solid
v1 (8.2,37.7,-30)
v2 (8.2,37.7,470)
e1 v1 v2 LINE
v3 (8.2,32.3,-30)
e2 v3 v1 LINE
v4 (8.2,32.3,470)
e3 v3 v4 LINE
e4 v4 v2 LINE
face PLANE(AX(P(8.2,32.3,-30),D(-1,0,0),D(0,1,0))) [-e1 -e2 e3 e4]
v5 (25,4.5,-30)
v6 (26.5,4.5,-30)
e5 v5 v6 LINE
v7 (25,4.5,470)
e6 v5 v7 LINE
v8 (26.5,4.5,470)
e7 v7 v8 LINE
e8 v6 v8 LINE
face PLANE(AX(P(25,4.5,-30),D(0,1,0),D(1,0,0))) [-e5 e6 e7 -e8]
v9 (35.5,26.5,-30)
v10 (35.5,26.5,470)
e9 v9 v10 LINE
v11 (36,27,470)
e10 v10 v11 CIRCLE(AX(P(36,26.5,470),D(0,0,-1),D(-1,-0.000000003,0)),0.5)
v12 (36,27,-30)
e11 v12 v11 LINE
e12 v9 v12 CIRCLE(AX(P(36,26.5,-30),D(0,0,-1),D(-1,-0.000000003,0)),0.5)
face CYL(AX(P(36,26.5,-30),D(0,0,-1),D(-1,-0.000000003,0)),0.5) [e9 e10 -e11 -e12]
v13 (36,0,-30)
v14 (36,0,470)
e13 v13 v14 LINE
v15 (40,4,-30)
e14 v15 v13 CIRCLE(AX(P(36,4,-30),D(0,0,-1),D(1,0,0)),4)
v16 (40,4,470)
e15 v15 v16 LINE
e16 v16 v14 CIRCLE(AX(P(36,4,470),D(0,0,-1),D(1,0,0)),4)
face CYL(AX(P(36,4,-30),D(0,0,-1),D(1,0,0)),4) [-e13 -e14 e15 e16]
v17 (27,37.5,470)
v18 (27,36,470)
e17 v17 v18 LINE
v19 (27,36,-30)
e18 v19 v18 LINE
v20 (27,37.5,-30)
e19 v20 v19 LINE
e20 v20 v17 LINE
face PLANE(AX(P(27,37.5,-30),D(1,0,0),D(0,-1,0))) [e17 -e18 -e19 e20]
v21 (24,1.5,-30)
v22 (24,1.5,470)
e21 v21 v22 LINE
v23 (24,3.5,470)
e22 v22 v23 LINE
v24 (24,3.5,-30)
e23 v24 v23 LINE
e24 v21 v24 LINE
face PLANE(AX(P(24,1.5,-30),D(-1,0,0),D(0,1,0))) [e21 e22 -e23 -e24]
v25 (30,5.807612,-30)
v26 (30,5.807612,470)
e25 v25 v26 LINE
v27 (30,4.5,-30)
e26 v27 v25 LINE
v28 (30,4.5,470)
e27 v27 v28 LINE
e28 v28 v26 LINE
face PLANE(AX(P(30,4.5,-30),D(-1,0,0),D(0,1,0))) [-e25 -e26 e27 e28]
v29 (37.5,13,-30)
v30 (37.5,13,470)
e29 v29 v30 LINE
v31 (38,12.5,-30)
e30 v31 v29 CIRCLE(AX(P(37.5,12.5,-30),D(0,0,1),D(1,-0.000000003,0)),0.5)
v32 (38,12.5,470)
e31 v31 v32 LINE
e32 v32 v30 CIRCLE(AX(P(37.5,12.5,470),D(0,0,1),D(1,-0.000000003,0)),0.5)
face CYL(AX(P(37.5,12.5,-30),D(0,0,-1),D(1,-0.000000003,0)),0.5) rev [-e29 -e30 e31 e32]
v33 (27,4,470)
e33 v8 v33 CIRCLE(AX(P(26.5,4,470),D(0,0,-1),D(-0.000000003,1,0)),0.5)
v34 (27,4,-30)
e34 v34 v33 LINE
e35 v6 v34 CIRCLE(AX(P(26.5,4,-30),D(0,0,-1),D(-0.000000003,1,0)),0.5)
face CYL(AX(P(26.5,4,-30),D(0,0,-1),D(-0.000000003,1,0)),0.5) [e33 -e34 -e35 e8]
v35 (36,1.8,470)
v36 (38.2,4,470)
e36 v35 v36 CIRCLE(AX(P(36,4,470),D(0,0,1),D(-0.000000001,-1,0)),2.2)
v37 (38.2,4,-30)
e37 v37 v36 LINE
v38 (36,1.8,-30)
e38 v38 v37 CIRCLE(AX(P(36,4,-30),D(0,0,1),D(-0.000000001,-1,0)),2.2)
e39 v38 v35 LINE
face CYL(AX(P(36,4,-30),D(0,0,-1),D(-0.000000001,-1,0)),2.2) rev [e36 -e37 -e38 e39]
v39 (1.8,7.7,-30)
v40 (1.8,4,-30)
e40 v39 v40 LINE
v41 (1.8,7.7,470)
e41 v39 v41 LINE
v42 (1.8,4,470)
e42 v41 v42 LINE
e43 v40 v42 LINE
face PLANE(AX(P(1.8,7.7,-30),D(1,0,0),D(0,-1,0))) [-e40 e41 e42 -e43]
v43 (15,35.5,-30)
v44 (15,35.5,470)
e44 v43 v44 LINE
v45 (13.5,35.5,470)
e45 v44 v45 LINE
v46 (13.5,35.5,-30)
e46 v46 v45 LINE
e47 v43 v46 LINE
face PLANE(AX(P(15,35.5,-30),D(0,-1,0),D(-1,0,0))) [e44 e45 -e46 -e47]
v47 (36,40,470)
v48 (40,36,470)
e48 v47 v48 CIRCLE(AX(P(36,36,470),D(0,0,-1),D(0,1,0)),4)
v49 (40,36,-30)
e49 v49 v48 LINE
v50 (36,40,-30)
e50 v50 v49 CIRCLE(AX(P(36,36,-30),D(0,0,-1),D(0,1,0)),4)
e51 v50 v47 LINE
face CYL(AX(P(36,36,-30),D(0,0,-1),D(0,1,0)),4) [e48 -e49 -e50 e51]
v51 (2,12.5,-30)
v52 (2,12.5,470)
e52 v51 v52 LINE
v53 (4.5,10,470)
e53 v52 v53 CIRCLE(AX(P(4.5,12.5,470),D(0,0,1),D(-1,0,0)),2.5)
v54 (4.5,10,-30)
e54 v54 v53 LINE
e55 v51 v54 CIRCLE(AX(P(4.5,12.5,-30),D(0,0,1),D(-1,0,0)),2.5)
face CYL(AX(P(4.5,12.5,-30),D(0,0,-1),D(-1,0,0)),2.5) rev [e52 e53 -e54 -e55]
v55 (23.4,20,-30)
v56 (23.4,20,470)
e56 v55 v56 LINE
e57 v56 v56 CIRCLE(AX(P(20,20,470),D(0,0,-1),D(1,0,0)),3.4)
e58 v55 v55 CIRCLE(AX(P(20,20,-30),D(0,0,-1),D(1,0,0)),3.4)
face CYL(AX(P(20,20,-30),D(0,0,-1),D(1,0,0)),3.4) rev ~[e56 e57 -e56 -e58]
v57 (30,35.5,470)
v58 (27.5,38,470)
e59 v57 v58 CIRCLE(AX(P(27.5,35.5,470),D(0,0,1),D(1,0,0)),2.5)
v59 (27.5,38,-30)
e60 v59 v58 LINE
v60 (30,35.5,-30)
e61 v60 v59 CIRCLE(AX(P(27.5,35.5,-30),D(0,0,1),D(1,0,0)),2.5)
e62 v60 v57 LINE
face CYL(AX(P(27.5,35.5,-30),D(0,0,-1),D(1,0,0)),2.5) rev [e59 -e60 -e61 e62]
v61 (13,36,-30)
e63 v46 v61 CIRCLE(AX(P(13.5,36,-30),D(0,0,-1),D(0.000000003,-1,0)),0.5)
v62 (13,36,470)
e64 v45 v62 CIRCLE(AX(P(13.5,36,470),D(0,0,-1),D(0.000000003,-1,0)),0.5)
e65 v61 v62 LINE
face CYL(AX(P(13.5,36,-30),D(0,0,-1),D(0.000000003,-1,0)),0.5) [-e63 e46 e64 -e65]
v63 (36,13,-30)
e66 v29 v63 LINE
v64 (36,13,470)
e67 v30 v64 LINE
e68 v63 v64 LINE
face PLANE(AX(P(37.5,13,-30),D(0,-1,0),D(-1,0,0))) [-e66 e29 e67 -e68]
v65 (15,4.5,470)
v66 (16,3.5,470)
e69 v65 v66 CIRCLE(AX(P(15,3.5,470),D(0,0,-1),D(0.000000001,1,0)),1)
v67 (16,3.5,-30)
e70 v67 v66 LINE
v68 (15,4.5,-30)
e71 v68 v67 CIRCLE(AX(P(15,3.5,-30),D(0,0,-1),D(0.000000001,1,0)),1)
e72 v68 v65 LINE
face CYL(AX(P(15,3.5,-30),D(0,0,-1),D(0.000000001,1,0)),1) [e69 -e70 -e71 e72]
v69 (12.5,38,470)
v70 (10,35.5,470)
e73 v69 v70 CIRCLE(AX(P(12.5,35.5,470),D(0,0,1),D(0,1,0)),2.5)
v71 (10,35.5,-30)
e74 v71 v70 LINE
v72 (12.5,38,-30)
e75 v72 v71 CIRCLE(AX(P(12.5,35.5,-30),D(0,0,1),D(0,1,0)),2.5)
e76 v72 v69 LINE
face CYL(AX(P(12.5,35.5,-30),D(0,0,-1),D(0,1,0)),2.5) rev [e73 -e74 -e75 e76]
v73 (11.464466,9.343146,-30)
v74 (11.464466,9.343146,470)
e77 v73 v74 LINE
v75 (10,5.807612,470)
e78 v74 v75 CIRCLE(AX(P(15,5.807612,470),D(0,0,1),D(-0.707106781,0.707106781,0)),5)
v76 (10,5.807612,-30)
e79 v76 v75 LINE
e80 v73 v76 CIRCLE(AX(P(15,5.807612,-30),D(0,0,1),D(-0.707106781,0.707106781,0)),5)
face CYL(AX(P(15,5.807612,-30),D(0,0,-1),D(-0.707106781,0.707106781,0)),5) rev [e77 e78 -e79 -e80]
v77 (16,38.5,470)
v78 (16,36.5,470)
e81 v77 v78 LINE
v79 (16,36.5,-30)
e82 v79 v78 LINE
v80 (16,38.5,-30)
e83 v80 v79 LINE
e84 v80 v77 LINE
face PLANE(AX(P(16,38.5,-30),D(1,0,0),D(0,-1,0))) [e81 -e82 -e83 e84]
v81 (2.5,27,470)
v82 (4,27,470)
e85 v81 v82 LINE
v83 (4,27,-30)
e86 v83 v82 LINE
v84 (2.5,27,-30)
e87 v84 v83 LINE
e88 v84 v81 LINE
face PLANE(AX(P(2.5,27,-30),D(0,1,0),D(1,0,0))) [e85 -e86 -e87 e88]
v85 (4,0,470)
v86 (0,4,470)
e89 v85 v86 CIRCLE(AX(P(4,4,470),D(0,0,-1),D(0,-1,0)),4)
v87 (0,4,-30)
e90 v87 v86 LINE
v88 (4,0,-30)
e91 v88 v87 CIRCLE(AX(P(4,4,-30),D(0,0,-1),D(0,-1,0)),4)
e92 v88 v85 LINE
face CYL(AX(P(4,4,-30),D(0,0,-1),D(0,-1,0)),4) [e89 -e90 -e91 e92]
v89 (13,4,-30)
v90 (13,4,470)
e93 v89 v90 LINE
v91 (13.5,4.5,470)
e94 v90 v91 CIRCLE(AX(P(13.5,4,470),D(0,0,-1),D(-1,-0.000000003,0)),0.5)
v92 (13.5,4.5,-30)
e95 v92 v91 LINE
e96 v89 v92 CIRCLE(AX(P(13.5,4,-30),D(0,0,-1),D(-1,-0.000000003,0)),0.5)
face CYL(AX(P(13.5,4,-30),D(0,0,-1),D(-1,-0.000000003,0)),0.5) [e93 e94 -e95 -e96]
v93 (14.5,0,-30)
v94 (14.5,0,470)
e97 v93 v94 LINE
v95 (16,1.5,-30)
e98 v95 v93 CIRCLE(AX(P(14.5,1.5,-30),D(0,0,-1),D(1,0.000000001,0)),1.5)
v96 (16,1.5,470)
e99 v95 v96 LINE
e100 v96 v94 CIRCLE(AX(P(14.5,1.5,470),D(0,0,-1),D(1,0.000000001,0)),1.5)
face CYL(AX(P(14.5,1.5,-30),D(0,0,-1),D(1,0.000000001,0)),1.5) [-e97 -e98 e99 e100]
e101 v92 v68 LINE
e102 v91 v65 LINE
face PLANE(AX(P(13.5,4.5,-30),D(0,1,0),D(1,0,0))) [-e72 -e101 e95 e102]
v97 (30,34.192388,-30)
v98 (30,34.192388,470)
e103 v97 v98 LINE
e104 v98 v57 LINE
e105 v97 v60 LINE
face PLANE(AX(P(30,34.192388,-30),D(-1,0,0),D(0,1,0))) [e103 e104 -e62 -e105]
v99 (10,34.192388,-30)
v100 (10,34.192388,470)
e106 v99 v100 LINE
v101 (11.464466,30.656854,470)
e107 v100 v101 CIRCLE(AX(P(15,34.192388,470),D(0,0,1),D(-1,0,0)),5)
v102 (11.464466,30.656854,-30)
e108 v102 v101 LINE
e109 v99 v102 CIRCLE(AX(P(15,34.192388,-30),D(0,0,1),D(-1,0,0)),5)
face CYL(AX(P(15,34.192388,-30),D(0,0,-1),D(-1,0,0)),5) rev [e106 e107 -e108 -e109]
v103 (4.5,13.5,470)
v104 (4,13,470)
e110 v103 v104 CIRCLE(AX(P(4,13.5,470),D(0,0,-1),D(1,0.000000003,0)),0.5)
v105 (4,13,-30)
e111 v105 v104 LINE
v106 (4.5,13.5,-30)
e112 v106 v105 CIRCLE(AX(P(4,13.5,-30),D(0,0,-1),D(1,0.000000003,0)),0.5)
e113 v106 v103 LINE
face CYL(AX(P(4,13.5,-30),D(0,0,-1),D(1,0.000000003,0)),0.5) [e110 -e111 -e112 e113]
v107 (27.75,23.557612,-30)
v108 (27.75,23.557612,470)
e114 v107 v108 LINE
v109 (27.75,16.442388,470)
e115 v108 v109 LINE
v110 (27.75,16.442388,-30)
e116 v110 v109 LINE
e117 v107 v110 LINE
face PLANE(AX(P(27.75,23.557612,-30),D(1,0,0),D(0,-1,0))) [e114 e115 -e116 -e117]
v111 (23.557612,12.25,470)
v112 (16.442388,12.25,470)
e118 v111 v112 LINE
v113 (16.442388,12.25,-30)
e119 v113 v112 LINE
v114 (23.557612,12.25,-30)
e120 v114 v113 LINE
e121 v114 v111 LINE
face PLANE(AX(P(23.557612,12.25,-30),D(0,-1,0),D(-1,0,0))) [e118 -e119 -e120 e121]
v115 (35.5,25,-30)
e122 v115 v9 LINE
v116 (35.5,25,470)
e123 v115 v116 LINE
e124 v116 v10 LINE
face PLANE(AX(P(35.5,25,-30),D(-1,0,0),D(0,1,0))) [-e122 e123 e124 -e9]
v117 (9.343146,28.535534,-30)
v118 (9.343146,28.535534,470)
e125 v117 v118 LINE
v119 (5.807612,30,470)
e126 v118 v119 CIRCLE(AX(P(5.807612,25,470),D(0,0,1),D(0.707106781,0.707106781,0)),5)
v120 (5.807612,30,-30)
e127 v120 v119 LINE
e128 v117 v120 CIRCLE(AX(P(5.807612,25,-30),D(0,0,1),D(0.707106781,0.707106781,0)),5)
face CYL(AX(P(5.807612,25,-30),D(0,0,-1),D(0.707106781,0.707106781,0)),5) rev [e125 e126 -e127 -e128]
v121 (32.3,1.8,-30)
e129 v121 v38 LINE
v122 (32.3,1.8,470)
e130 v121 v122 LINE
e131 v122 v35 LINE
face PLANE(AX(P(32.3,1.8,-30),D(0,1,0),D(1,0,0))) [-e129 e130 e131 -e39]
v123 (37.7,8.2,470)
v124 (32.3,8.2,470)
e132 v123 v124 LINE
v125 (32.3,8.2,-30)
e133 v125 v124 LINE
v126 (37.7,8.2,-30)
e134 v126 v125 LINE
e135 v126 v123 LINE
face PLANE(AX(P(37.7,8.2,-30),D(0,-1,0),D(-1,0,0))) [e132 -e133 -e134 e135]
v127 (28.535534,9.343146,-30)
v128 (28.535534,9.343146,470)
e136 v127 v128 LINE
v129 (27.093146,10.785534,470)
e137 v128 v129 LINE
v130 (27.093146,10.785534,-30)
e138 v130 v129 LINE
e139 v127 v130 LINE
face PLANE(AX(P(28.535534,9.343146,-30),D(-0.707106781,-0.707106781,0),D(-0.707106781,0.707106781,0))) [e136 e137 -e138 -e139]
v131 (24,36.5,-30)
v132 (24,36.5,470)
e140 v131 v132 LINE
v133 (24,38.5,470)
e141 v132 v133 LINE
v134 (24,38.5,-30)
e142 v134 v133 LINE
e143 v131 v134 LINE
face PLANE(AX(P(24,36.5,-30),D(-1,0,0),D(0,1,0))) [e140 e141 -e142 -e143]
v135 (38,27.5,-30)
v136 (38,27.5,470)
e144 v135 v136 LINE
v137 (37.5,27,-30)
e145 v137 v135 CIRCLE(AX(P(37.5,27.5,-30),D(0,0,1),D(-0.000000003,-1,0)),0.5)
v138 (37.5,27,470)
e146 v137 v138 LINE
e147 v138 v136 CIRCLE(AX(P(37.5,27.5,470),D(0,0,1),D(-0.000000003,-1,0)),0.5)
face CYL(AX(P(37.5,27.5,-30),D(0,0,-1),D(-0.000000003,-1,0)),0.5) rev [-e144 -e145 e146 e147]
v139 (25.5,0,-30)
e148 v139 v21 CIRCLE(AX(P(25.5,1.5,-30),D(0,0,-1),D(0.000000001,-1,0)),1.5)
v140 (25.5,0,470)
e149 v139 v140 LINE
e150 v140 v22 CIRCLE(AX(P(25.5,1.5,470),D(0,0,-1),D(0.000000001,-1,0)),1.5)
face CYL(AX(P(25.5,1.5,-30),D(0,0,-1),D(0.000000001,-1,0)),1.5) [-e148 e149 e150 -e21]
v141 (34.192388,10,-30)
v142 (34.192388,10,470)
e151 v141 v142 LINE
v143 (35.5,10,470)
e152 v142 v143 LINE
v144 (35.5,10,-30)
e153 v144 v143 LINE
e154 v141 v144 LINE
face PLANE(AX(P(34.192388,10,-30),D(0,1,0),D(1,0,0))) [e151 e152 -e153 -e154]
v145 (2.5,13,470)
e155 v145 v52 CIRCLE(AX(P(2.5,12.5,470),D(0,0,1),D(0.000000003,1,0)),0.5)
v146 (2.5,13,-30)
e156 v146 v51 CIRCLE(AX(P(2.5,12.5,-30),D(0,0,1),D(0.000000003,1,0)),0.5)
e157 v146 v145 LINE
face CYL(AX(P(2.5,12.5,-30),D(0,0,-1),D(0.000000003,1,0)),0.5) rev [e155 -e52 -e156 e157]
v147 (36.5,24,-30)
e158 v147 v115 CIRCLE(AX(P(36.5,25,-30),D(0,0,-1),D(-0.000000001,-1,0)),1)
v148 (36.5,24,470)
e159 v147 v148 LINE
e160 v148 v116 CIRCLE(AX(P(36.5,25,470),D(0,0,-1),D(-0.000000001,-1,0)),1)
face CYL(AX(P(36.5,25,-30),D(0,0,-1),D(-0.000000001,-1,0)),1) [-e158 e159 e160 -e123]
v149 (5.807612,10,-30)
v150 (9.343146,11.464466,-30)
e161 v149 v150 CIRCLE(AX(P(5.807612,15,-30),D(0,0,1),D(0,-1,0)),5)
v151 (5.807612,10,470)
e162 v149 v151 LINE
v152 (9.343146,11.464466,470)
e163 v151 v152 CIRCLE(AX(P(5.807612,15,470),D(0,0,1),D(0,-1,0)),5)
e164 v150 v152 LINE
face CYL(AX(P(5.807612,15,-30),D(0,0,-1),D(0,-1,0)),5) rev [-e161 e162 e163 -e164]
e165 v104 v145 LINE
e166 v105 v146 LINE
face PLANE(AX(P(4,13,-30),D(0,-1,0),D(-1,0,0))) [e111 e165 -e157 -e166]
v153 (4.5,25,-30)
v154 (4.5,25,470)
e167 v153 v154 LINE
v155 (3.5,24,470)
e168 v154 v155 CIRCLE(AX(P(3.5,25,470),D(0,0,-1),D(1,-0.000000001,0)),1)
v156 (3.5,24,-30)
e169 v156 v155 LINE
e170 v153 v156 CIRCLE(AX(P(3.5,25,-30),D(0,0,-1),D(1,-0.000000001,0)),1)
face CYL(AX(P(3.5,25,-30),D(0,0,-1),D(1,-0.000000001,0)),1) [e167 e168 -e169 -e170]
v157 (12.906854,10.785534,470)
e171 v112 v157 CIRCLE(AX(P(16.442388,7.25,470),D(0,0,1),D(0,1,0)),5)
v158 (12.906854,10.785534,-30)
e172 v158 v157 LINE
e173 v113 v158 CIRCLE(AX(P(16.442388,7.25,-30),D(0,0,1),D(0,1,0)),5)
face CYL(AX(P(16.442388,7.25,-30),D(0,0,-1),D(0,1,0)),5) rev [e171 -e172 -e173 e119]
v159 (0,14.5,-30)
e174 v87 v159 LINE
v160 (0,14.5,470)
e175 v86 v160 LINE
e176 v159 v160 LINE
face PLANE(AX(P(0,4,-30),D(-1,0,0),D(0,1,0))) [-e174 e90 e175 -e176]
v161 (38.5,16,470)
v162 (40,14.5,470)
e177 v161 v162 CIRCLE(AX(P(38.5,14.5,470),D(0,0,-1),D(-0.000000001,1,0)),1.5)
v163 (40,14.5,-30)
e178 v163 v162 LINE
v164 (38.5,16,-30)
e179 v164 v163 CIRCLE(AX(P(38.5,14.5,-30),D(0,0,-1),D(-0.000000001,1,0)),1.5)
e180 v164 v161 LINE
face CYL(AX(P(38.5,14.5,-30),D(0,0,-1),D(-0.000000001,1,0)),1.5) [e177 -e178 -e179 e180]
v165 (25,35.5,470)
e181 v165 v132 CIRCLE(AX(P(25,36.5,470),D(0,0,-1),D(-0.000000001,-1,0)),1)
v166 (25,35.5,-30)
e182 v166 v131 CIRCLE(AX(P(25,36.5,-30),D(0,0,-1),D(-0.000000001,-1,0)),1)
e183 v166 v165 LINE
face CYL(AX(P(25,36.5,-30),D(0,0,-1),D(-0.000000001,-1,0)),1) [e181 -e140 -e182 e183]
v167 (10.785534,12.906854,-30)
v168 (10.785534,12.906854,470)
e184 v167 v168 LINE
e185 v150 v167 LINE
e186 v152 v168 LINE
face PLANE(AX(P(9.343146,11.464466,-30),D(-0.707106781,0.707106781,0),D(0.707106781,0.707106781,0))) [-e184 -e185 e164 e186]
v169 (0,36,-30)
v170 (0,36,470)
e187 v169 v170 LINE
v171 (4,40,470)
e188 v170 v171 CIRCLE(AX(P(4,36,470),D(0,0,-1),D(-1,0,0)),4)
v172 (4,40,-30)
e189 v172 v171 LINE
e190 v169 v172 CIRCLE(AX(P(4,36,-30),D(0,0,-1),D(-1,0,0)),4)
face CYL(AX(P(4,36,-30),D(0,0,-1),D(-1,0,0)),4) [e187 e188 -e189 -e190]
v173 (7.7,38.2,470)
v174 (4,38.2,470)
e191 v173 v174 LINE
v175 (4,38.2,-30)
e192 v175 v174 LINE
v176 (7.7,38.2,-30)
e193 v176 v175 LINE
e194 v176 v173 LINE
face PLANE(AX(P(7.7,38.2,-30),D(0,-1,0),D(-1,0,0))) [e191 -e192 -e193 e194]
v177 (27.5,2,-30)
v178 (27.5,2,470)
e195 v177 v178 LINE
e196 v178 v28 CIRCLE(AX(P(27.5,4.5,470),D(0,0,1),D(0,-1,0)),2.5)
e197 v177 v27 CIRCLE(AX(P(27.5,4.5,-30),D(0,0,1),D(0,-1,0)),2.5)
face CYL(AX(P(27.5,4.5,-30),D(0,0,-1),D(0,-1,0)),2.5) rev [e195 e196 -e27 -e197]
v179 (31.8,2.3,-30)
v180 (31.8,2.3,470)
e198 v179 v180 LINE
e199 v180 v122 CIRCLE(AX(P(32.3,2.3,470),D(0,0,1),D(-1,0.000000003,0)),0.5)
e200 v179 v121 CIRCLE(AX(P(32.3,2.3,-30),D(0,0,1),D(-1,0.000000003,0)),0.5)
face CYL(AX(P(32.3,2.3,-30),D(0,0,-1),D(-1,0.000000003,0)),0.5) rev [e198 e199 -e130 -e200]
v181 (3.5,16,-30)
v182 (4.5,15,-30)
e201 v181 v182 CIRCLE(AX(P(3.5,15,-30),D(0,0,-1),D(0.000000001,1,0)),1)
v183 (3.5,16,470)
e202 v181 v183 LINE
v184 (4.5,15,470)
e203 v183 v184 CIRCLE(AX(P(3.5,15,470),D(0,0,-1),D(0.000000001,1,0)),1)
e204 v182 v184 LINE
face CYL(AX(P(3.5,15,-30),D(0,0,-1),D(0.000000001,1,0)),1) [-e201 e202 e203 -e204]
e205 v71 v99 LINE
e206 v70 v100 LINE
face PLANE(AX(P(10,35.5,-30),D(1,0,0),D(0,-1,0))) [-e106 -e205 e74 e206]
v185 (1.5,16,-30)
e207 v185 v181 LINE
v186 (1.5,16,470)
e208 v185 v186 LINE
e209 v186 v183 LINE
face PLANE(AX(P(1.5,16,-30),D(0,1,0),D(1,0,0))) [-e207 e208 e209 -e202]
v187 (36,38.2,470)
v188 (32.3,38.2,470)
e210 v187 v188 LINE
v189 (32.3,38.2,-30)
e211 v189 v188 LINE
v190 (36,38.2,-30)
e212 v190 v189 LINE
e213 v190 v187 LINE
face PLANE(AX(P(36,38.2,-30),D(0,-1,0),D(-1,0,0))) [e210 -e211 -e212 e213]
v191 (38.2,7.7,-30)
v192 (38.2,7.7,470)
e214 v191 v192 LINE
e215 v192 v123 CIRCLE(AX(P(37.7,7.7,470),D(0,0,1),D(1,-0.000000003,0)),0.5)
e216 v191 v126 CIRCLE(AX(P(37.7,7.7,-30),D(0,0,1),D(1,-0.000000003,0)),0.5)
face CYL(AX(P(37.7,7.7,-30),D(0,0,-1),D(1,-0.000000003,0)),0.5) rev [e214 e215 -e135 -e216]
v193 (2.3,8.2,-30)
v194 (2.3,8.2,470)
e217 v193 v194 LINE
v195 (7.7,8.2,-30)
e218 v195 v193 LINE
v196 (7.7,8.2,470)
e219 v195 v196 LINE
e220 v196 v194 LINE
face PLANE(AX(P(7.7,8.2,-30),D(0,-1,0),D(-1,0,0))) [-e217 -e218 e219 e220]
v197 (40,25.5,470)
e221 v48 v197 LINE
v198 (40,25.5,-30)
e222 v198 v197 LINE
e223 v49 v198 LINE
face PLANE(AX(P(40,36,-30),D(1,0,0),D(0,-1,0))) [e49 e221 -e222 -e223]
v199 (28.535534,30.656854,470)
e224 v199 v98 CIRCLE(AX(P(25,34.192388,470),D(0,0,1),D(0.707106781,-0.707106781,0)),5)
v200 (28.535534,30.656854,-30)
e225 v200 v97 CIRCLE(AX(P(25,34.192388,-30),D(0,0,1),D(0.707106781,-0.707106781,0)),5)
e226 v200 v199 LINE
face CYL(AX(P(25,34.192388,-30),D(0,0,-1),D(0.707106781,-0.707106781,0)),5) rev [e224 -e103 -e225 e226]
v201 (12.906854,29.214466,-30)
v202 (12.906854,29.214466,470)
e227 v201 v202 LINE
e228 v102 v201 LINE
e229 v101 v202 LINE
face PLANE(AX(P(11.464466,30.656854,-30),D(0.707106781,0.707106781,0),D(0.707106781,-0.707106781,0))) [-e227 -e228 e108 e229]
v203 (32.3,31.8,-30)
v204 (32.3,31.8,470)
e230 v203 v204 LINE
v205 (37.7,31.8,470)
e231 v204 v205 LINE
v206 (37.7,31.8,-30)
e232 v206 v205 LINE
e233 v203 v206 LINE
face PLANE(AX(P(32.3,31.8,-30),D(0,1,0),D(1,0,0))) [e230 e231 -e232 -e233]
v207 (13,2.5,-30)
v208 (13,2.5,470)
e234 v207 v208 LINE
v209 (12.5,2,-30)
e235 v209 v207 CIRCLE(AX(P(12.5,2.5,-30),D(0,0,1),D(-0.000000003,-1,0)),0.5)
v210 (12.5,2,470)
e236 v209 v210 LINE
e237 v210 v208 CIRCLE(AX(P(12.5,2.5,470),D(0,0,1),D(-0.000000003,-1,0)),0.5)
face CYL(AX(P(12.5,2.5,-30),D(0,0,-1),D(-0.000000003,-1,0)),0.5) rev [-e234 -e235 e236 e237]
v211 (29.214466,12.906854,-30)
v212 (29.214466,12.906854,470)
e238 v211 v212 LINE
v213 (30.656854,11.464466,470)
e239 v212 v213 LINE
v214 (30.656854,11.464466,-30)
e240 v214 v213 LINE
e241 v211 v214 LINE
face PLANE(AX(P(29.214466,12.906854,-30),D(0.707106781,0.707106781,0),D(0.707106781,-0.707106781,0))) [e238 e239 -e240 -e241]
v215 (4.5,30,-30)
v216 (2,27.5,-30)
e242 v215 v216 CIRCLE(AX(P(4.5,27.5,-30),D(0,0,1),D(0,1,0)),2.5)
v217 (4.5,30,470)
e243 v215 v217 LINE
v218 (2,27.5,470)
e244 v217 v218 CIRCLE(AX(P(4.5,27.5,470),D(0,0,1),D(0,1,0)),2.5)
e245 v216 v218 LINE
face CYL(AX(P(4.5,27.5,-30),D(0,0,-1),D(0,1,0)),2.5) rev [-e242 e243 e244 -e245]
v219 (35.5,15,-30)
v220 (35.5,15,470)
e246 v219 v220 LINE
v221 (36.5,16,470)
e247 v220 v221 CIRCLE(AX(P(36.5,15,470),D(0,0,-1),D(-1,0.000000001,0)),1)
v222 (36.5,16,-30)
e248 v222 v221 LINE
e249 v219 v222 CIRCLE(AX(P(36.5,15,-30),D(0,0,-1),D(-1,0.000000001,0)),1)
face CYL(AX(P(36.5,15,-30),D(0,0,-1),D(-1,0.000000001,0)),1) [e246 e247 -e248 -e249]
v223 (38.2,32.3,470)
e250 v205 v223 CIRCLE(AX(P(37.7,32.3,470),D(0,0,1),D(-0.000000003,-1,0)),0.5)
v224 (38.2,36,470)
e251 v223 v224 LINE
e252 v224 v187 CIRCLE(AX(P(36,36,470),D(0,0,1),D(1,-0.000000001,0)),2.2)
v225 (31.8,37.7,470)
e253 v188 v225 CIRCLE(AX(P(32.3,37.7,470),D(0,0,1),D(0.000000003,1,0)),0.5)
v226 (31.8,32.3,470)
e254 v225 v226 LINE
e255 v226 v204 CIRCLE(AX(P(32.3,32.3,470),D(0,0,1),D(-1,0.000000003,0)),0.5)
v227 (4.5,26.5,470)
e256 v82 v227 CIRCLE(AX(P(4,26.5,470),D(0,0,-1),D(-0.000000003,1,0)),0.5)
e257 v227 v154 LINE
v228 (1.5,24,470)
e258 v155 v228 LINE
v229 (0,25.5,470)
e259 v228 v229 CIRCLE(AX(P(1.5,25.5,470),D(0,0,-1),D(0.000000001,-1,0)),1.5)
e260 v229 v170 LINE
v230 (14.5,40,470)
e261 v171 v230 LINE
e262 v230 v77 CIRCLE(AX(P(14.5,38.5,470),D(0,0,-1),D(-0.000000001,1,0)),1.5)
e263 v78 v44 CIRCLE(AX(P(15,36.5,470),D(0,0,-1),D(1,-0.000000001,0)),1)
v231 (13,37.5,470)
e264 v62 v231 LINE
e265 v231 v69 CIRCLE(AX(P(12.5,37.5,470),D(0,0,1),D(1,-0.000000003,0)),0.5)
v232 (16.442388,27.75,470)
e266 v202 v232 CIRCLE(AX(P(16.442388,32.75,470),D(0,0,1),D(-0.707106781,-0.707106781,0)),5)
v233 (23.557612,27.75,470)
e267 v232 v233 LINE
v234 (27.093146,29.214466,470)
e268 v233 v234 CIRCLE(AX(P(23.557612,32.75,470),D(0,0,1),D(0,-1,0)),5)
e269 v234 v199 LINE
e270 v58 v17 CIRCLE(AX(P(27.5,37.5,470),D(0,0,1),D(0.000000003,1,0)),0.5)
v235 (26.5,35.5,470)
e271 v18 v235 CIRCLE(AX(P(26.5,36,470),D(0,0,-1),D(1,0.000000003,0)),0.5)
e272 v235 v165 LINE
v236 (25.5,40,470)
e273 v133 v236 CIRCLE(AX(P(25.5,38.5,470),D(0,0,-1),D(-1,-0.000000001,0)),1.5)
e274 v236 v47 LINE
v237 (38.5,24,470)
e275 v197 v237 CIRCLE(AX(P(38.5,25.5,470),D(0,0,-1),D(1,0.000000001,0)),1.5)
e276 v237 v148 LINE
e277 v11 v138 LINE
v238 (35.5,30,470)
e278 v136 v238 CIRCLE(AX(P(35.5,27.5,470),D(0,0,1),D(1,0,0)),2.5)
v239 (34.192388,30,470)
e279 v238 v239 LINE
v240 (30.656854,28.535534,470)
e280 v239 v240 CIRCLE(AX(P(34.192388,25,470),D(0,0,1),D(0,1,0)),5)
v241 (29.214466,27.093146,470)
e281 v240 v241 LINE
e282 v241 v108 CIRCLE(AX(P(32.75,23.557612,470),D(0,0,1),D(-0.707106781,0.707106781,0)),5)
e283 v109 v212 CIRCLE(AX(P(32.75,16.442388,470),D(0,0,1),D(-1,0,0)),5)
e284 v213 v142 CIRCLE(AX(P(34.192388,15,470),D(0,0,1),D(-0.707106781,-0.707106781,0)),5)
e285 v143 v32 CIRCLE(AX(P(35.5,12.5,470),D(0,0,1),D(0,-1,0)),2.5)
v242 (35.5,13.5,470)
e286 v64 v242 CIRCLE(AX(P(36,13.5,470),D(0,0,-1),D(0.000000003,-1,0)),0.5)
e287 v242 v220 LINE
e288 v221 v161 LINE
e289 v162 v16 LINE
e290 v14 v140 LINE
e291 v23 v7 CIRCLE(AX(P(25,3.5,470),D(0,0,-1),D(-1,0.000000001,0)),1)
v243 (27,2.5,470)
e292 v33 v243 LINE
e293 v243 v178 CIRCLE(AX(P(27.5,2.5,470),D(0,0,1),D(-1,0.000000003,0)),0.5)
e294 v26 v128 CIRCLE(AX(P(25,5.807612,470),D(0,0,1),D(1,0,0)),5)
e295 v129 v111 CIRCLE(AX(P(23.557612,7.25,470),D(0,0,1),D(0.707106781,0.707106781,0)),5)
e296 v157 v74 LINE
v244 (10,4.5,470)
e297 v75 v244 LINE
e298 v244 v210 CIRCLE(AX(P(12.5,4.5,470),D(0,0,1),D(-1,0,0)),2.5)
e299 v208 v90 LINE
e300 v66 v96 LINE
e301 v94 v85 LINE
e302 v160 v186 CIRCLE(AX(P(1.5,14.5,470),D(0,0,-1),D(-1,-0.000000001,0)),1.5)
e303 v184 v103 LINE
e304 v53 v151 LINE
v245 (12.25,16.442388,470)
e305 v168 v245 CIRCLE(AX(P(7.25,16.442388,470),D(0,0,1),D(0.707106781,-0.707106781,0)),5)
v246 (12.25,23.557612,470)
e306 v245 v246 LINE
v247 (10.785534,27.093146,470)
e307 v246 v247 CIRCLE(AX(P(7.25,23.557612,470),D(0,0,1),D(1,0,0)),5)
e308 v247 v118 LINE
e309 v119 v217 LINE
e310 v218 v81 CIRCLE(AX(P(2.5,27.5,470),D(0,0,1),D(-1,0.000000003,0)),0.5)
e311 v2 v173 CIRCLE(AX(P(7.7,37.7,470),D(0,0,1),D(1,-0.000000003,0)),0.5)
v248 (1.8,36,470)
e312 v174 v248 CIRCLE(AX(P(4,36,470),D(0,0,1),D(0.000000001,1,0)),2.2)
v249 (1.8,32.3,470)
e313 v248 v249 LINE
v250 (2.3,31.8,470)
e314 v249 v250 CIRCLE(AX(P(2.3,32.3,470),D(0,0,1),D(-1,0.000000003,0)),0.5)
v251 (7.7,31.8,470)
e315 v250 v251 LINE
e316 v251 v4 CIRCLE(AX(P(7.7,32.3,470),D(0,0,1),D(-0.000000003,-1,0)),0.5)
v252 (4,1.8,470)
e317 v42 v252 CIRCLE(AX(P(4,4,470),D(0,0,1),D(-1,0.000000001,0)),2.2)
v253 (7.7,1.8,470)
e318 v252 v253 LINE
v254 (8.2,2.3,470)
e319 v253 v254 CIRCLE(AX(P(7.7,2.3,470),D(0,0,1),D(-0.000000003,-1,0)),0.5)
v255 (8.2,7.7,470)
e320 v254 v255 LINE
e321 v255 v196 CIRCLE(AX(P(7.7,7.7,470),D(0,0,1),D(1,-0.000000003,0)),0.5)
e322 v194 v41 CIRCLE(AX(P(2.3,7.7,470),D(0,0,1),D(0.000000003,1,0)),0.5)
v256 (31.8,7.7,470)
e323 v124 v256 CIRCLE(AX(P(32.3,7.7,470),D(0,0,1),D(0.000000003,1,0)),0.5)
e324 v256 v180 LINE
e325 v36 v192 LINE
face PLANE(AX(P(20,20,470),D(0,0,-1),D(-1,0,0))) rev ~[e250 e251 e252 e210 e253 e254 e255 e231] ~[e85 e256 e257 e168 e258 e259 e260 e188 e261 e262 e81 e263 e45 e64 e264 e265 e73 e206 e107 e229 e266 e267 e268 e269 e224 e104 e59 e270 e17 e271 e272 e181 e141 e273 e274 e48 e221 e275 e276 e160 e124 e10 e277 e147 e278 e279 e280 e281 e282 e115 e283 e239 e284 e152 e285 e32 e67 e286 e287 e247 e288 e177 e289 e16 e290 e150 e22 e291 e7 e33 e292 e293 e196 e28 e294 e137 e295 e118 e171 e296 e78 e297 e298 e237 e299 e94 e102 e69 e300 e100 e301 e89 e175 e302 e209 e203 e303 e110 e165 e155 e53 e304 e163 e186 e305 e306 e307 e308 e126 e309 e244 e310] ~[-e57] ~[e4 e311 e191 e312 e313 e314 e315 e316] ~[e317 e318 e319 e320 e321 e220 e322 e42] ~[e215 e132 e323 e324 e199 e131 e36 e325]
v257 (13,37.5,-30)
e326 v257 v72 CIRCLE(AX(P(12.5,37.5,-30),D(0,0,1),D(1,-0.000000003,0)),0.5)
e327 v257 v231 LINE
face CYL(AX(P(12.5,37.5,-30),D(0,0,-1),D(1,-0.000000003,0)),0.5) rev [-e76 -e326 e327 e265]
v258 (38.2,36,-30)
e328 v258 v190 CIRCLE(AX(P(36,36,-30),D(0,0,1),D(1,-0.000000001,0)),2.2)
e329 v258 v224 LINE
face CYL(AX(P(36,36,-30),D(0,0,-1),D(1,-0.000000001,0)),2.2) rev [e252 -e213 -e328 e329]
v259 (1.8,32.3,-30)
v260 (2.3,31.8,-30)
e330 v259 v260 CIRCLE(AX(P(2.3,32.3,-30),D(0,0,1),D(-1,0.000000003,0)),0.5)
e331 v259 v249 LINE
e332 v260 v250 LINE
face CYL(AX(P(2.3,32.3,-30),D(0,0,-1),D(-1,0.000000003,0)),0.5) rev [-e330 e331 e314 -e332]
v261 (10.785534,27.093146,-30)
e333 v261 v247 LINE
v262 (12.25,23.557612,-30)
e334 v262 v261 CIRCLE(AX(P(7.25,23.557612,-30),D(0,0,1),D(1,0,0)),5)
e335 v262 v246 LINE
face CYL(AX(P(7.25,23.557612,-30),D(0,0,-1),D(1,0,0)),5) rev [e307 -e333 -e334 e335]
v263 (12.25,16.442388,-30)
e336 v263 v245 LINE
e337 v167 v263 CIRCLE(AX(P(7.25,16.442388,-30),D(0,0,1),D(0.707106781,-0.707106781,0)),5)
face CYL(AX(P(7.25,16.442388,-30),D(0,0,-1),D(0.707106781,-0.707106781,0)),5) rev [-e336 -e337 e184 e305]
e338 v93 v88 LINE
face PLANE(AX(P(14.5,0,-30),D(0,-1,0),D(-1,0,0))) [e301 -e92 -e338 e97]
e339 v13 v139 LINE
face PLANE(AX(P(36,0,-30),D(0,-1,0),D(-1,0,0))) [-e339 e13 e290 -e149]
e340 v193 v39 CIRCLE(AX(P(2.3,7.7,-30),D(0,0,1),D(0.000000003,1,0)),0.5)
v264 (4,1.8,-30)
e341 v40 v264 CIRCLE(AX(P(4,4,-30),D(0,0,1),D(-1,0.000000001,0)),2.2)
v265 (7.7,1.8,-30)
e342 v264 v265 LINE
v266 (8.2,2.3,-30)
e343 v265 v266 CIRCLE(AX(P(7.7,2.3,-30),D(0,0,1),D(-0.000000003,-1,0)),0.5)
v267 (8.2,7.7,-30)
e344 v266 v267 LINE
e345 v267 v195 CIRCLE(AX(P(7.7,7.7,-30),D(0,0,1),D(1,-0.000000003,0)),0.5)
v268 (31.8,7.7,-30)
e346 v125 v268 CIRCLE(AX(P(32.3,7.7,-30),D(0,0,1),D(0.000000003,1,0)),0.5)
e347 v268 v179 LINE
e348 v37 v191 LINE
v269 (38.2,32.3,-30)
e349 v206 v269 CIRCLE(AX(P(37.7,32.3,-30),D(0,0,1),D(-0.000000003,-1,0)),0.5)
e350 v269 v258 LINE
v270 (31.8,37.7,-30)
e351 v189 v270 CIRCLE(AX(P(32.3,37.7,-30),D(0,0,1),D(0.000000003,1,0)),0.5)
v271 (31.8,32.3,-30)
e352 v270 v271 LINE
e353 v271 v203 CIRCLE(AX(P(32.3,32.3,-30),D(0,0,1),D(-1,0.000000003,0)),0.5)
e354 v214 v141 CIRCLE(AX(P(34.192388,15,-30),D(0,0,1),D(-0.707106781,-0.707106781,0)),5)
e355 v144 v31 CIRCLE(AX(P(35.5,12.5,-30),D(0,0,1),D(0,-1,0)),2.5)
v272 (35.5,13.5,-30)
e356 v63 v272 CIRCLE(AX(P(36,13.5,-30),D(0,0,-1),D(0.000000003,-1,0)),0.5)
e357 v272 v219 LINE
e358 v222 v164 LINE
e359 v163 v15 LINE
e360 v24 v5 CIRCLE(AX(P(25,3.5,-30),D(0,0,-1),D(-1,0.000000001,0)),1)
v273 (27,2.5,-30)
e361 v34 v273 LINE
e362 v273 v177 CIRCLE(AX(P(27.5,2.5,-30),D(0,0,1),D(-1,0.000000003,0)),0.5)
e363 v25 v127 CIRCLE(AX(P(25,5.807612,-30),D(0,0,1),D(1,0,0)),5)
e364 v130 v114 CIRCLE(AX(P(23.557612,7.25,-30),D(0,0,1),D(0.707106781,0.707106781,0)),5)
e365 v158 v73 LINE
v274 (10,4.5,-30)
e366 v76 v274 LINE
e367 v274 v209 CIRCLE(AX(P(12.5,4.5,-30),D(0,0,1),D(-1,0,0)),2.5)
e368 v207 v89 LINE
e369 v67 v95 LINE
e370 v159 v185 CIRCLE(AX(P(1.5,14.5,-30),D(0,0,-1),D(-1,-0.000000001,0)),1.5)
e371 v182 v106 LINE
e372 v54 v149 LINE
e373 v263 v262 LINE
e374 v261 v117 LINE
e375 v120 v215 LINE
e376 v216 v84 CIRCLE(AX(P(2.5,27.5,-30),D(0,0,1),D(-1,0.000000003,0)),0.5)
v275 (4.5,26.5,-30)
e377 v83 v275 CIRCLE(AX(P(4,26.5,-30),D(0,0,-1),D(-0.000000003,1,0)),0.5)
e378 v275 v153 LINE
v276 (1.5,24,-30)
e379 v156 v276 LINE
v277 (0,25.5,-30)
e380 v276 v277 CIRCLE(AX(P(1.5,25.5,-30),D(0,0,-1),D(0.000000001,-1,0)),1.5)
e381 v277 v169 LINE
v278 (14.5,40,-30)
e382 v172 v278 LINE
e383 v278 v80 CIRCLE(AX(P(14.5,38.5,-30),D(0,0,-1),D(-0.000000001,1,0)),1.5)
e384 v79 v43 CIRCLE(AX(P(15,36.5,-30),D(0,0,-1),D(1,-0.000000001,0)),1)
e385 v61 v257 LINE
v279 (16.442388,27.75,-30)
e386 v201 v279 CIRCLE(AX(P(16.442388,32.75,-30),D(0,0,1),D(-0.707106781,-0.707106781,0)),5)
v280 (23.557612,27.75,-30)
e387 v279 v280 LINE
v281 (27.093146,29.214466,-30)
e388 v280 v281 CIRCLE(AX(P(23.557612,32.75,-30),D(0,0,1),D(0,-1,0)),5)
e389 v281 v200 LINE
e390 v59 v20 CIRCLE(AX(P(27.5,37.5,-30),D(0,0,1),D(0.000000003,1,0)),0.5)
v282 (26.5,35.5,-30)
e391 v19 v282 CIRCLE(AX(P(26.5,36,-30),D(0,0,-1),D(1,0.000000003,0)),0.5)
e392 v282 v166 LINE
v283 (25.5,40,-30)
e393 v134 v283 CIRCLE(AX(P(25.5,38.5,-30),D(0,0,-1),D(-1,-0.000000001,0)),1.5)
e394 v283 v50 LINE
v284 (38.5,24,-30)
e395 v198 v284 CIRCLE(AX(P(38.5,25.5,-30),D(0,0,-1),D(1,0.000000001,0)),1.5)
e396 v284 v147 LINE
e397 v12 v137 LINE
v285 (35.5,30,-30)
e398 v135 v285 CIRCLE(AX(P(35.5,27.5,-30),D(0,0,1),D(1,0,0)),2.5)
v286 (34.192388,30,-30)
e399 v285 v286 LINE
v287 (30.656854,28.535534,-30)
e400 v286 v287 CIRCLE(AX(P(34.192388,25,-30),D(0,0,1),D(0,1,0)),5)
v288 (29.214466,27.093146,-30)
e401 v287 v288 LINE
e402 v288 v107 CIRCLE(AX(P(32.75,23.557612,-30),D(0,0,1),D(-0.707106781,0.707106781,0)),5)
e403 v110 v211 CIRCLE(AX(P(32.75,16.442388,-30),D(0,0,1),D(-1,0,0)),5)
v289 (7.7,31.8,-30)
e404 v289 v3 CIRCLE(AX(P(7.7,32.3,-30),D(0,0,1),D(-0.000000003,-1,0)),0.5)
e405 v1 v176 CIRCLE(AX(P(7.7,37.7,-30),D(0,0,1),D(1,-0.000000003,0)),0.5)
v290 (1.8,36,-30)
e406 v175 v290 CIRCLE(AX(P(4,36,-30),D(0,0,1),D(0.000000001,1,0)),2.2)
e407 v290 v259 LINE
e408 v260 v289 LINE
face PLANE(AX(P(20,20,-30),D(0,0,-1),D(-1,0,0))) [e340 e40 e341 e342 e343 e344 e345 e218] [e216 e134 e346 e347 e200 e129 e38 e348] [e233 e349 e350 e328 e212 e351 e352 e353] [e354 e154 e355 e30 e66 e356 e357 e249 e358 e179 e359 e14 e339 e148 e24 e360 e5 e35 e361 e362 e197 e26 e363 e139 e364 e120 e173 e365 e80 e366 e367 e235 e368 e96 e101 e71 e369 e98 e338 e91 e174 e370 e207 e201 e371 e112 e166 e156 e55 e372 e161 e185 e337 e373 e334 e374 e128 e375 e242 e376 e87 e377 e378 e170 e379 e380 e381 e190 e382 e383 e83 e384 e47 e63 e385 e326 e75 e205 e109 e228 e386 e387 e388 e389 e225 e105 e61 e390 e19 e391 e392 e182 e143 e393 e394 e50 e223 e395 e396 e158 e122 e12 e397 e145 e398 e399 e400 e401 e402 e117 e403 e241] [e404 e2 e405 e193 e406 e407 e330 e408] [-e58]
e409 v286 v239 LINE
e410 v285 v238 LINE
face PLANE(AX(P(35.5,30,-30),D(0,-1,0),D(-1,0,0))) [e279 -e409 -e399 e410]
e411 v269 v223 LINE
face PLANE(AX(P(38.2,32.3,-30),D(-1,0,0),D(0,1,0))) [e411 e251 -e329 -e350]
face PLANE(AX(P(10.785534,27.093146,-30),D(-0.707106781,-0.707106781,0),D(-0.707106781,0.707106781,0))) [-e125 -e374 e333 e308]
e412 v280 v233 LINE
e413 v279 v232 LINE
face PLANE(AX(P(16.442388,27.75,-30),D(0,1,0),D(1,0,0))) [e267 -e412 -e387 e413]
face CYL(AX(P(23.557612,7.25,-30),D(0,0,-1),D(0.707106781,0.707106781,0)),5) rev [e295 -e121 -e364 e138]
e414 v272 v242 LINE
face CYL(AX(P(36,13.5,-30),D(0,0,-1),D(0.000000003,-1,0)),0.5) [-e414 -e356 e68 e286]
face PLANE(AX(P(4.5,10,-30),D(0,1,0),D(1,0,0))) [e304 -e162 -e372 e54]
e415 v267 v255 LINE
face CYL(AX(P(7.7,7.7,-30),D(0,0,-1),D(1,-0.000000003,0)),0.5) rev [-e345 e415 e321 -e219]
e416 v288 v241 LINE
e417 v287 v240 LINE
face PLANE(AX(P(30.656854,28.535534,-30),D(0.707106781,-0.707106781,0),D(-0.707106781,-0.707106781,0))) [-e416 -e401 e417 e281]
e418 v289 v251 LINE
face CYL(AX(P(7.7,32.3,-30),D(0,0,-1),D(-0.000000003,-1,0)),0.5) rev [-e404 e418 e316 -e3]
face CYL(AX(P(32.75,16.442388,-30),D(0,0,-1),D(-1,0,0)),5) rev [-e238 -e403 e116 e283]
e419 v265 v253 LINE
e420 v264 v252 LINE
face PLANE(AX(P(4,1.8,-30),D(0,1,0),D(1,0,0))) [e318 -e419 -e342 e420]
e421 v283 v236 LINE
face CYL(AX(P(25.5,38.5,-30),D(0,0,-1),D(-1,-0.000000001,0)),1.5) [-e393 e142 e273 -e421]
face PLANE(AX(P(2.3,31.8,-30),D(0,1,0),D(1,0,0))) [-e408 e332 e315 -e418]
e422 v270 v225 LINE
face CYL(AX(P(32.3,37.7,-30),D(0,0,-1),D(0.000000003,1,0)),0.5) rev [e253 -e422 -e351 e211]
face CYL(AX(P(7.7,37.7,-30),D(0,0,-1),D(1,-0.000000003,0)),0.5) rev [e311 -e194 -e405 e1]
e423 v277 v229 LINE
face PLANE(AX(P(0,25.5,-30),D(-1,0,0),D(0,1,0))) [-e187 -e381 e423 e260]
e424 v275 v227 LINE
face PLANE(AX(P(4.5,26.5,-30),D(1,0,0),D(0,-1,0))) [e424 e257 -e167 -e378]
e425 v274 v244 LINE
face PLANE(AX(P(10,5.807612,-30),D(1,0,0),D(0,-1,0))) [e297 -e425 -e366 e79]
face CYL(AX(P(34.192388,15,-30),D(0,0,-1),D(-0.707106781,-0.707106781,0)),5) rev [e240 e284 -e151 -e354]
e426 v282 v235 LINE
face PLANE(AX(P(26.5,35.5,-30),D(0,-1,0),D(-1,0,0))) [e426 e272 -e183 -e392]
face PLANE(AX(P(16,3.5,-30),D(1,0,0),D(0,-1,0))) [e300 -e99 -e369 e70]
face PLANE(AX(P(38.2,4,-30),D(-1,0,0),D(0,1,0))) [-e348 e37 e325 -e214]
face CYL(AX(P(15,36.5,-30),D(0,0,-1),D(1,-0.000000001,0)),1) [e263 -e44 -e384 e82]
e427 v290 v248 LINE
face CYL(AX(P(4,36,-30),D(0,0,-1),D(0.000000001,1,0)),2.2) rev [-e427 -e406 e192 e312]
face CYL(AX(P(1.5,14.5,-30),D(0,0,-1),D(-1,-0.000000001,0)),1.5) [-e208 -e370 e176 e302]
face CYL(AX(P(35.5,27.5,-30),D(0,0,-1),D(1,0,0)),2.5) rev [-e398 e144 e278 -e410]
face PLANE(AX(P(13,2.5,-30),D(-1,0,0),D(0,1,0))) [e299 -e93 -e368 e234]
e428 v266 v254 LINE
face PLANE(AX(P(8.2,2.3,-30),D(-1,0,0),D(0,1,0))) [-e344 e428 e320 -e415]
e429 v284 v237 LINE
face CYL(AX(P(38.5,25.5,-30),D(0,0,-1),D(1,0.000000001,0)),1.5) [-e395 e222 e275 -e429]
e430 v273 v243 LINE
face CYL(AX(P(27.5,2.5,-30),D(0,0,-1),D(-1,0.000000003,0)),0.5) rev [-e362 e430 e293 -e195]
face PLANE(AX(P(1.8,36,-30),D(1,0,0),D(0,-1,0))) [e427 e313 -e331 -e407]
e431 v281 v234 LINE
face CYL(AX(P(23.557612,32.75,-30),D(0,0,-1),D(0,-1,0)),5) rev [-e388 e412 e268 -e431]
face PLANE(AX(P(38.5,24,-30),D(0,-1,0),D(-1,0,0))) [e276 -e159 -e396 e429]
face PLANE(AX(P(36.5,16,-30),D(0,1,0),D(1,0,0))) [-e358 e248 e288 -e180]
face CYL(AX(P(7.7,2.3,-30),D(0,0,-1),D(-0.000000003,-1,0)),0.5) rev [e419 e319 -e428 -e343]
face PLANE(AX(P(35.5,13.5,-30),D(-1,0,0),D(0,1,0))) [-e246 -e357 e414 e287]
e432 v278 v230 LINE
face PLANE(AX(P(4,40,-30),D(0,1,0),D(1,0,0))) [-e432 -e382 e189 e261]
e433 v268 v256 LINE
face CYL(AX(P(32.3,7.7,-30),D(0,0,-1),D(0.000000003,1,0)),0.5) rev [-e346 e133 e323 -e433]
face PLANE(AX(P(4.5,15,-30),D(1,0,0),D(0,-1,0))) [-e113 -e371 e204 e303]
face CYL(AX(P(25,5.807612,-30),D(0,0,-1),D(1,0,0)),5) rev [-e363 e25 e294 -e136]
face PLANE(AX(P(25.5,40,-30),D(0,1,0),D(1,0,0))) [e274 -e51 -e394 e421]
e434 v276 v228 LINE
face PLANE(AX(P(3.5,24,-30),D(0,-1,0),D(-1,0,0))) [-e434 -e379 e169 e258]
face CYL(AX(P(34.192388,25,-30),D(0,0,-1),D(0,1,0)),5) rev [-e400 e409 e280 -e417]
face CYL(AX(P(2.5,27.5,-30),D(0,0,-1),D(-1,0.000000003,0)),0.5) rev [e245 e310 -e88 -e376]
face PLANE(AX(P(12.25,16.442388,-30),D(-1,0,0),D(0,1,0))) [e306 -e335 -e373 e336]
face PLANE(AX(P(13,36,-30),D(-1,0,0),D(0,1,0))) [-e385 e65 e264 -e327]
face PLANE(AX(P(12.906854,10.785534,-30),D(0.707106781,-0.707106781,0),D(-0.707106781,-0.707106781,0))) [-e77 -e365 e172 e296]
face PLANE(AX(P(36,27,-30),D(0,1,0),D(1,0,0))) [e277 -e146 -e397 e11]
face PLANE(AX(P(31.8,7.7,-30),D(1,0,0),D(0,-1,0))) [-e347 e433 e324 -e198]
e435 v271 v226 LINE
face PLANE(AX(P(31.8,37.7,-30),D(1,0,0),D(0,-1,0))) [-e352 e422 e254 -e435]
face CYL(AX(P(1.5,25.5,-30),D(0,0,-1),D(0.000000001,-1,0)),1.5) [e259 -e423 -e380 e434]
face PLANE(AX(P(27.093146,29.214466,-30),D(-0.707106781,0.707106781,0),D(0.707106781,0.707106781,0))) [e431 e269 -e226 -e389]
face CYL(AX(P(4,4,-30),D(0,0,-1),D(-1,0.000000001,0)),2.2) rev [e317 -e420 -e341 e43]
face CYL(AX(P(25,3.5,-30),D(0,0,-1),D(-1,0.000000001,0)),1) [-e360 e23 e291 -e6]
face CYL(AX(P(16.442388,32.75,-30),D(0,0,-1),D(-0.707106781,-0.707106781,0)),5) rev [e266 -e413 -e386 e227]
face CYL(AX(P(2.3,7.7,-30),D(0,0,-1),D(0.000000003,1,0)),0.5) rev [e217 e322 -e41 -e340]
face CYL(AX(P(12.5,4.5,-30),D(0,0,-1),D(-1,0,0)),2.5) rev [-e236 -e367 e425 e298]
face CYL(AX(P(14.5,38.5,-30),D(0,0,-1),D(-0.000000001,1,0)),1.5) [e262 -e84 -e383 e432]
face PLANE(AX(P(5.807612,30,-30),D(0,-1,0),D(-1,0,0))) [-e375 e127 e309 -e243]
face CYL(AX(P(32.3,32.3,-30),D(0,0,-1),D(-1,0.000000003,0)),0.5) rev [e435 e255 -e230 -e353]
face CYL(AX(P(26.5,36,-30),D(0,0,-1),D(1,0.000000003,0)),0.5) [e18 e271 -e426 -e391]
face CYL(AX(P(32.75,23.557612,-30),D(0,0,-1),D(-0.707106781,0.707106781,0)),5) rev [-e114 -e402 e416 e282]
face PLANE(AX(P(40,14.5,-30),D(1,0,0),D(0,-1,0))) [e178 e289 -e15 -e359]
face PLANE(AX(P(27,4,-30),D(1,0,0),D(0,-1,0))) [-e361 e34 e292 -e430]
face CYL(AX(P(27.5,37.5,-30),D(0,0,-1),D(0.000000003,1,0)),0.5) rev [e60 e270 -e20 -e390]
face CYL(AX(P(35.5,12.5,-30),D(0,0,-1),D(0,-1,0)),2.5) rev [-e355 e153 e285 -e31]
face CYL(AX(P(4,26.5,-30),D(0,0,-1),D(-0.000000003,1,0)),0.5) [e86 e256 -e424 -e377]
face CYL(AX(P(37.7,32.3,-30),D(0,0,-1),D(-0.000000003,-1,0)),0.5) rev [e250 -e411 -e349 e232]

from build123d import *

# Parameters (mm, degrees)
ESQUISSE1_R        = 3.4
BOSS_EXTRU_1_DEPTH = 500


with BuildPart() as part:
    # Esquisse1 → Boss.-Extru.1 (new body)
    with BuildSketch(Plane(origin=(0, 0, -30), x_dir=(-1, 0, 0), z_dir=(0, 0, -1))):
        with BuildLine():
            Line((-4.5, 15), (-4.5, 13.5))
            ThreePointArc((-4.5, 13.5), (-4.353553391, 13.146446609), (-4, 13))
            Line((-4, 13), (-2.5, 13))
            ThreePointArc((-2.5, 13), (-2.146446609, 12.853553391), (-2, 12.5))
            ThreePointArc((-2, 12.5), (-2.732233047, 10.732233047), (-4.5, 10))
            Line((-4.5, 10), (-5.807611845, 10))
            ThreePointArc((-5.807611845, 10), (-7.721029006, 10.380602337), (-9.343145751, 11.464466094))
            Line((-9.343145751, 11.464466094), (-10.785533906, 12.906854249))
            ThreePointArc((-10.785533906, 12.906854249), (-11.869397663, 14.528970994), (-12.25, 16.442388155))
            Line((-12.25, 16.442388155), (-12.25, 23.557611845))
            ThreePointArc((-12.25, 23.557611845), (-11.869397663, 25.471029006), (-10.785533906, 27.093145751))
            Line((-10.785533906, 27.093145751), (-9.343145751, 28.535533906))
            ThreePointArc((-9.343145751, 28.535533906), (-7.721029006, 29.619397663), (-5.807611845, 30))
            Line((-5.807611845, 30), (-4.5, 30))
            ThreePointArc((-4.5, 30), (-2.732233047, 29.267766953), (-2, 27.5))
            ThreePointArc((-2, 27.5), (-2.146446609, 27.146446609), (-2.5, 27))
            Line((-2.5, 27), (-4, 27))
            ThreePointArc((-4, 27), (-4.353553391, 26.853553391), (-4.5, 26.5))
            Line((-4.5, 26.5), (-4.5, 25))
            ThreePointArc((-4.5, 25), (-4.207106781, 24.292893219), (-3.5, 24))
            Line((-3.5, 24), (-1.5, 24))
            ThreePointArc((-1.5, 24), (-0.439339828, 24.439339828), (0, 25.5))
            Line((0, 25.5), (0, 36))
            ThreePointArc((0, 36), (-1.171572875, 38.828427125), (-4, 40))
            Line((-4, 40), (-14.5, 40))
            ThreePointArc((-14.5, 40), (-15.560660172, 39.560660172), (-16, 38.5))
            Line((-16, 38.5), (-16, 36.5))
            ThreePointArc((-16, 36.5), (-15.707106781, 35.792893219), (-15, 35.5))
            Line((-15, 35.5), (-13.5, 35.5))
            ThreePointArc((-13.5, 35.5), (-13.146446609, 35.646446609), (-13, 36))
            Line((-13, 36), (-13, 37.5))
            ThreePointArc((-13, 37.5), (-12.853553391, 37.853553391), (-12.5, 38))
            ThreePointArc((-12.5, 38), (-10.732233047, 37.267766953), (-10, 35.5))
            Line((-10, 35.5), (-10, 34.192388155))
            ThreePointArc((-10, 34.192388155), (-10.380602337, 32.278970994), (-11.464466094, 30.656854249))
            Line((-11.464466094, 30.656854249), (-12.906854249, 29.214466094))
            ThreePointArc((-12.906854249, 29.214466094), (-14.528970994, 28.130602337), (-16.442388155, 27.75))
            Line((-16.442388155, 27.75), (-23.557611845, 27.75))
            ThreePointArc((-23.557611845, 27.75), (-25.471029006, 28.130602337), (-27.093145751, 29.214466094))
            Line((-27.093145751, 29.214466094), (-28.535533906, 30.656854249))
            ThreePointArc((-28.535533906, 30.656854249), (-29.619397663, 32.278970994), (-30, 34.192388155))
            Line((-30, 34.192388155), (-30, 35.5))
            ThreePointArc((-30, 35.5), (-29.267766953, 37.267766953), (-27.5, 38))
            ThreePointArc((-27.5, 38), (-27.146446609, 37.853553391), (-27, 37.5))
            Line((-27, 37.5), (-27, 36))
            ThreePointArc((-27, 36), (-26.853553391, 35.646446609), (-26.5, 35.5))
            Line((-26.5, 35.5), (-25, 35.5))
            ThreePointArc((-25, 35.5), (-24.292893219, 35.792893219), (-24, 36.5))
            Line((-24, 36.5), (-24, 38.5))
            ThreePointArc((-24, 38.5), (-24.439339828, 39.560660172), (-25.5, 40))
            Line((-25.5, 40), (-36, 40))
            ThreePointArc((-36, 40), (-38.828427125, 38.828427125), (-40, 36))
            Line((-40, 36), (-40, 25.5))
            ThreePointArc((-40, 25.5), (-39.560660172, 24.439339828), (-38.5, 24))
            Line((-38.5, 24), (-36.5, 24))
            ThreePointArc((-36.5, 24), (-35.792893219, 24.292893219), (-35.5, 25))
            Line((-35.5, 25), (-35.5, 26.5))
            ThreePointArc((-35.5, 26.5), (-35.646446609, 26.853553391), (-36, 27))
            Line((-36, 27), (-37.5, 27))
            ThreePointArc((-37.5, 27), (-37.853553391, 27.146446609), (-38, 27.5))
            ThreePointArc((-38, 27.5), (-37.267766953, 29.267766953), (-35.5, 30))
            Line((-35.5, 30), (-34.192388155, 30))
            ThreePointArc((-34.192388155, 30), (-32.278970994, 29.619397663), (-30.656854249, 28.535533906))
            Line((-30.656854249, 28.535533906), (-29.214466094, 27.093145751))
            ThreePointArc((-29.214466094, 27.093145751), (-28.130602337, 25.471029006), (-27.75, 23.557611845))
            Line((-27.75, 23.557611845), (-27.75, 16.442388155))
            ThreePointArc((-27.75, 16.442388155), (-28.130602337, 14.528970994), (-29.214466094, 12.906854249))
            Line((-29.214466094, 12.906854249), (-30.656854249, 11.464466094))
            ThreePointArc((-30.656854249, 11.464466094), (-32.278970994, 10.380602337), (-34.192388155, 10))
            Line((-34.192388155, 10), (-35.5, 10))
            ThreePointArc((-35.5, 10), (-37.267766953, 10.732233047), (-38, 12.5))
            ThreePointArc((-38, 12.5), (-37.853553391, 12.853553391), (-37.5, 13))
            Line((-37.5, 13), (-36, 13))
            ThreePointArc((-36, 13), (-35.646446609, 13.146446609), (-35.5, 13.5))
            Line((-35.5, 13.5), (-35.5, 15))
            ThreePointArc((-35.5, 15), (-35.792893219, 15.707106781), (-36.5, 16))
            Line((-36.5, 16), (-38.5, 16))
            ThreePointArc((-38.5, 16), (-39.560660172, 15.560660172), (-40, 14.5))
            Line((-40, 14.5), (-40, 4))
            ThreePointArc((-40, 4), (-38.828427125, 1.171572875), (-36, 0))
            Line((-36, 0), (-25.5, 0))
            ThreePointArc((-25.5, 0), (-24.439339828, 0.439339828), (-24, 1.5))
            Line((-24, 1.5), (-24, 3.5))
            ThreePointArc((-24, 3.5), (-24.292893219, 4.207106781), (-25, 4.5))
            Line((-25, 4.5), (-26.5, 4.5))
            ThreePointArc((-26.5, 4.5), (-26.853553391, 4.353553391), (-27, 4))
            Line((-27, 4), (-27, 2.5))
            ThreePointArc((-27, 2.5), (-27.146446609, 2.146446609), (-27.5, 2))
            ThreePointArc((-27.5, 2), (-29.267766953, 2.732233047), (-30, 4.5))
            Line((-30, 4.5), (-30, 5.807611845))
            ThreePointArc((-30, 5.807611845), (-29.619397663, 7.721029006), (-28.535533906, 9.343145751))
            Line((-28.535533906, 9.343145751), (-27.093145751, 10.785533906))
            ThreePointArc((-27.093145751, 10.785533906), (-25.471029006, 11.869397663), (-23.557611845, 12.25))
            Line((-23.557611845, 12.25), (-16.442388155, 12.25))
            ThreePointArc((-16.442388155, 12.25), (-14.528970994, 11.869397663), (-12.906854249, 10.785533906))
            Line((-12.906854249, 10.785533906), (-11.464466094, 9.343145751))
            ThreePointArc((-11.464466094, 9.343145751), (-10.380602337, 7.721029006), (-10, 5.807611845))
            Line((-10, 5.807611845), (-10, 4.5))
            ThreePointArc((-10, 4.5), (-10.732233047, 2.732233047), (-12.5, 2))
            ThreePointArc((-12.5, 2), (-12.853553391, 2.146446609), (-13, 2.5))
            Line((-13, 2.5), (-13, 4))
            ThreePointArc((-13, 4), (-13.146446609, 4.353553391), (-13.5, 4.5))
            Line((-13.5, 4.5), (-15, 4.5))
            ThreePointArc((-15, 4.5), (-15.707106781, 4.207106781), (-16, 3.5))
            Line((-16, 3.5), (-16, 1.5))
            ThreePointArc((-16, 1.5), (-15.560660172, 0.439339828), (-14.5, 0))
            Line((-14.5, 0), (-4, 0))
            ThreePointArc((-4, 0), (-1.171572875, 1.171572875), (0, 4))
            Line((0, 4), (0, 14.5))
            ThreePointArc((0, 14.5), (-0.439339828, 15.560660172), (-1.5, 16))
            Line((-1.5, 16), (-3.5, 16))
            ThreePointArc((-3.5, 16), (-4.207106781, 15.707106781), (-4.5, 15))
        make_face()
        with Locations(Location((-20, 20, 0), (0, 0, 180))):
            Circle(ESQUISSE1_R, mode=Mode.SUBTRACT)
        with BuildLine():
            Line((-4, 1.8), (-7.7, 1.8))
            ThreePointArc((-7.7, 1.8), (-8.053553391, 1.946446609), (-8.2, 2.3))
            Line((-8.2, 2.3), (-8.2, 7.7))
            ThreePointArc((-8.2, 7.7), (-8.053553391, 8.053553391), (-7.7, 8.2))
            Line((-7.7, 8.2), (-2.3, 8.2))
            ThreePointArc((-2.3, 8.2), (-1.946446609, 8.053553391), (-1.8, 7.7))
            Line((-1.8, 7.7), (-1.8, 4))
            ThreePointArc((-1.8, 4), (-2.444365081, 2.444365081), (-4, 1.8))
        make_face(mode=Mode.SUBTRACT)
        with BuildLine():
            Line((-38.2, 4), (-38.2, 7.7))
            ThreePointArc((-38.2, 7.7), (-38.053553391, 8.053553391), (-37.7, 8.2))
            Line((-37.7, 8.2), (-32.3, 8.2))
            ThreePointArc((-32.3, 8.2), (-31.946446609, 8.053553391), (-31.8, 7.7))
            Line((-31.8, 7.7), (-31.8, 2.3))
            ThreePointArc((-31.8, 2.3), (-31.946446609, 1.946446609), (-32.3, 1.8))
            Line((-32.3, 1.8), (-36, 1.8))
            ThreePointArc((-36, 1.8), (-37.555634919, 2.444365081), (-38.2, 4))
        make_face(mode=Mode.SUBTRACT)
        with BuildLine():
            Line((-36, 38.2), (-32.3, 38.2))
            ThreePointArc((-32.3, 38.2), (-31.946446609, 38.053553391), (-31.8, 37.7))
            Line((-31.8, 37.7), (-31.8, 32.3))
            ThreePointArc((-31.8, 32.3), (-31.946446609, 31.946446609), (-32.3, 31.8))
            Line((-32.3, 31.8), (-37.7, 31.8))
            ThreePointArc((-37.7, 31.8), (-38.053553391, 31.946446609), (-38.2, 32.3))
            Line((-38.2, 32.3), (-38.2, 36))
            ThreePointArc((-38.2, 36), (-37.555634919, 37.555634919), (-36, 38.2))
        make_face(mode=Mode.SUBTRACT)
        with BuildLine():
            Line((-1.8, 36), (-1.8, 32.3))
            ThreePointArc((-1.8, 32.3), (-1.946446609, 31.946446609), (-2.3, 31.8))
            Line((-2.3, 31.8), (-7.7, 31.8))
            ThreePointArc((-7.7, 31.8), (-8.053553391, 31.946446609), (-8.2, 32.3))
            Line((-8.2, 32.3), (-8.2, 37.7))
            ThreePointArc((-8.2, 37.7), (-8.053553391, 38.053553391), (-7.7, 38.2))
            Line((-7.7, 38.2), (-4, 38.2))
            ThreePointArc((-4, 38.2), (-2.444365081, 37.555634919), (-1.8, 36))
        make_face(mode=Mode.SUBTRACT)
    extrude(amount=-BOSS_EXTRU_1_DEPTH)


solid = part.part
